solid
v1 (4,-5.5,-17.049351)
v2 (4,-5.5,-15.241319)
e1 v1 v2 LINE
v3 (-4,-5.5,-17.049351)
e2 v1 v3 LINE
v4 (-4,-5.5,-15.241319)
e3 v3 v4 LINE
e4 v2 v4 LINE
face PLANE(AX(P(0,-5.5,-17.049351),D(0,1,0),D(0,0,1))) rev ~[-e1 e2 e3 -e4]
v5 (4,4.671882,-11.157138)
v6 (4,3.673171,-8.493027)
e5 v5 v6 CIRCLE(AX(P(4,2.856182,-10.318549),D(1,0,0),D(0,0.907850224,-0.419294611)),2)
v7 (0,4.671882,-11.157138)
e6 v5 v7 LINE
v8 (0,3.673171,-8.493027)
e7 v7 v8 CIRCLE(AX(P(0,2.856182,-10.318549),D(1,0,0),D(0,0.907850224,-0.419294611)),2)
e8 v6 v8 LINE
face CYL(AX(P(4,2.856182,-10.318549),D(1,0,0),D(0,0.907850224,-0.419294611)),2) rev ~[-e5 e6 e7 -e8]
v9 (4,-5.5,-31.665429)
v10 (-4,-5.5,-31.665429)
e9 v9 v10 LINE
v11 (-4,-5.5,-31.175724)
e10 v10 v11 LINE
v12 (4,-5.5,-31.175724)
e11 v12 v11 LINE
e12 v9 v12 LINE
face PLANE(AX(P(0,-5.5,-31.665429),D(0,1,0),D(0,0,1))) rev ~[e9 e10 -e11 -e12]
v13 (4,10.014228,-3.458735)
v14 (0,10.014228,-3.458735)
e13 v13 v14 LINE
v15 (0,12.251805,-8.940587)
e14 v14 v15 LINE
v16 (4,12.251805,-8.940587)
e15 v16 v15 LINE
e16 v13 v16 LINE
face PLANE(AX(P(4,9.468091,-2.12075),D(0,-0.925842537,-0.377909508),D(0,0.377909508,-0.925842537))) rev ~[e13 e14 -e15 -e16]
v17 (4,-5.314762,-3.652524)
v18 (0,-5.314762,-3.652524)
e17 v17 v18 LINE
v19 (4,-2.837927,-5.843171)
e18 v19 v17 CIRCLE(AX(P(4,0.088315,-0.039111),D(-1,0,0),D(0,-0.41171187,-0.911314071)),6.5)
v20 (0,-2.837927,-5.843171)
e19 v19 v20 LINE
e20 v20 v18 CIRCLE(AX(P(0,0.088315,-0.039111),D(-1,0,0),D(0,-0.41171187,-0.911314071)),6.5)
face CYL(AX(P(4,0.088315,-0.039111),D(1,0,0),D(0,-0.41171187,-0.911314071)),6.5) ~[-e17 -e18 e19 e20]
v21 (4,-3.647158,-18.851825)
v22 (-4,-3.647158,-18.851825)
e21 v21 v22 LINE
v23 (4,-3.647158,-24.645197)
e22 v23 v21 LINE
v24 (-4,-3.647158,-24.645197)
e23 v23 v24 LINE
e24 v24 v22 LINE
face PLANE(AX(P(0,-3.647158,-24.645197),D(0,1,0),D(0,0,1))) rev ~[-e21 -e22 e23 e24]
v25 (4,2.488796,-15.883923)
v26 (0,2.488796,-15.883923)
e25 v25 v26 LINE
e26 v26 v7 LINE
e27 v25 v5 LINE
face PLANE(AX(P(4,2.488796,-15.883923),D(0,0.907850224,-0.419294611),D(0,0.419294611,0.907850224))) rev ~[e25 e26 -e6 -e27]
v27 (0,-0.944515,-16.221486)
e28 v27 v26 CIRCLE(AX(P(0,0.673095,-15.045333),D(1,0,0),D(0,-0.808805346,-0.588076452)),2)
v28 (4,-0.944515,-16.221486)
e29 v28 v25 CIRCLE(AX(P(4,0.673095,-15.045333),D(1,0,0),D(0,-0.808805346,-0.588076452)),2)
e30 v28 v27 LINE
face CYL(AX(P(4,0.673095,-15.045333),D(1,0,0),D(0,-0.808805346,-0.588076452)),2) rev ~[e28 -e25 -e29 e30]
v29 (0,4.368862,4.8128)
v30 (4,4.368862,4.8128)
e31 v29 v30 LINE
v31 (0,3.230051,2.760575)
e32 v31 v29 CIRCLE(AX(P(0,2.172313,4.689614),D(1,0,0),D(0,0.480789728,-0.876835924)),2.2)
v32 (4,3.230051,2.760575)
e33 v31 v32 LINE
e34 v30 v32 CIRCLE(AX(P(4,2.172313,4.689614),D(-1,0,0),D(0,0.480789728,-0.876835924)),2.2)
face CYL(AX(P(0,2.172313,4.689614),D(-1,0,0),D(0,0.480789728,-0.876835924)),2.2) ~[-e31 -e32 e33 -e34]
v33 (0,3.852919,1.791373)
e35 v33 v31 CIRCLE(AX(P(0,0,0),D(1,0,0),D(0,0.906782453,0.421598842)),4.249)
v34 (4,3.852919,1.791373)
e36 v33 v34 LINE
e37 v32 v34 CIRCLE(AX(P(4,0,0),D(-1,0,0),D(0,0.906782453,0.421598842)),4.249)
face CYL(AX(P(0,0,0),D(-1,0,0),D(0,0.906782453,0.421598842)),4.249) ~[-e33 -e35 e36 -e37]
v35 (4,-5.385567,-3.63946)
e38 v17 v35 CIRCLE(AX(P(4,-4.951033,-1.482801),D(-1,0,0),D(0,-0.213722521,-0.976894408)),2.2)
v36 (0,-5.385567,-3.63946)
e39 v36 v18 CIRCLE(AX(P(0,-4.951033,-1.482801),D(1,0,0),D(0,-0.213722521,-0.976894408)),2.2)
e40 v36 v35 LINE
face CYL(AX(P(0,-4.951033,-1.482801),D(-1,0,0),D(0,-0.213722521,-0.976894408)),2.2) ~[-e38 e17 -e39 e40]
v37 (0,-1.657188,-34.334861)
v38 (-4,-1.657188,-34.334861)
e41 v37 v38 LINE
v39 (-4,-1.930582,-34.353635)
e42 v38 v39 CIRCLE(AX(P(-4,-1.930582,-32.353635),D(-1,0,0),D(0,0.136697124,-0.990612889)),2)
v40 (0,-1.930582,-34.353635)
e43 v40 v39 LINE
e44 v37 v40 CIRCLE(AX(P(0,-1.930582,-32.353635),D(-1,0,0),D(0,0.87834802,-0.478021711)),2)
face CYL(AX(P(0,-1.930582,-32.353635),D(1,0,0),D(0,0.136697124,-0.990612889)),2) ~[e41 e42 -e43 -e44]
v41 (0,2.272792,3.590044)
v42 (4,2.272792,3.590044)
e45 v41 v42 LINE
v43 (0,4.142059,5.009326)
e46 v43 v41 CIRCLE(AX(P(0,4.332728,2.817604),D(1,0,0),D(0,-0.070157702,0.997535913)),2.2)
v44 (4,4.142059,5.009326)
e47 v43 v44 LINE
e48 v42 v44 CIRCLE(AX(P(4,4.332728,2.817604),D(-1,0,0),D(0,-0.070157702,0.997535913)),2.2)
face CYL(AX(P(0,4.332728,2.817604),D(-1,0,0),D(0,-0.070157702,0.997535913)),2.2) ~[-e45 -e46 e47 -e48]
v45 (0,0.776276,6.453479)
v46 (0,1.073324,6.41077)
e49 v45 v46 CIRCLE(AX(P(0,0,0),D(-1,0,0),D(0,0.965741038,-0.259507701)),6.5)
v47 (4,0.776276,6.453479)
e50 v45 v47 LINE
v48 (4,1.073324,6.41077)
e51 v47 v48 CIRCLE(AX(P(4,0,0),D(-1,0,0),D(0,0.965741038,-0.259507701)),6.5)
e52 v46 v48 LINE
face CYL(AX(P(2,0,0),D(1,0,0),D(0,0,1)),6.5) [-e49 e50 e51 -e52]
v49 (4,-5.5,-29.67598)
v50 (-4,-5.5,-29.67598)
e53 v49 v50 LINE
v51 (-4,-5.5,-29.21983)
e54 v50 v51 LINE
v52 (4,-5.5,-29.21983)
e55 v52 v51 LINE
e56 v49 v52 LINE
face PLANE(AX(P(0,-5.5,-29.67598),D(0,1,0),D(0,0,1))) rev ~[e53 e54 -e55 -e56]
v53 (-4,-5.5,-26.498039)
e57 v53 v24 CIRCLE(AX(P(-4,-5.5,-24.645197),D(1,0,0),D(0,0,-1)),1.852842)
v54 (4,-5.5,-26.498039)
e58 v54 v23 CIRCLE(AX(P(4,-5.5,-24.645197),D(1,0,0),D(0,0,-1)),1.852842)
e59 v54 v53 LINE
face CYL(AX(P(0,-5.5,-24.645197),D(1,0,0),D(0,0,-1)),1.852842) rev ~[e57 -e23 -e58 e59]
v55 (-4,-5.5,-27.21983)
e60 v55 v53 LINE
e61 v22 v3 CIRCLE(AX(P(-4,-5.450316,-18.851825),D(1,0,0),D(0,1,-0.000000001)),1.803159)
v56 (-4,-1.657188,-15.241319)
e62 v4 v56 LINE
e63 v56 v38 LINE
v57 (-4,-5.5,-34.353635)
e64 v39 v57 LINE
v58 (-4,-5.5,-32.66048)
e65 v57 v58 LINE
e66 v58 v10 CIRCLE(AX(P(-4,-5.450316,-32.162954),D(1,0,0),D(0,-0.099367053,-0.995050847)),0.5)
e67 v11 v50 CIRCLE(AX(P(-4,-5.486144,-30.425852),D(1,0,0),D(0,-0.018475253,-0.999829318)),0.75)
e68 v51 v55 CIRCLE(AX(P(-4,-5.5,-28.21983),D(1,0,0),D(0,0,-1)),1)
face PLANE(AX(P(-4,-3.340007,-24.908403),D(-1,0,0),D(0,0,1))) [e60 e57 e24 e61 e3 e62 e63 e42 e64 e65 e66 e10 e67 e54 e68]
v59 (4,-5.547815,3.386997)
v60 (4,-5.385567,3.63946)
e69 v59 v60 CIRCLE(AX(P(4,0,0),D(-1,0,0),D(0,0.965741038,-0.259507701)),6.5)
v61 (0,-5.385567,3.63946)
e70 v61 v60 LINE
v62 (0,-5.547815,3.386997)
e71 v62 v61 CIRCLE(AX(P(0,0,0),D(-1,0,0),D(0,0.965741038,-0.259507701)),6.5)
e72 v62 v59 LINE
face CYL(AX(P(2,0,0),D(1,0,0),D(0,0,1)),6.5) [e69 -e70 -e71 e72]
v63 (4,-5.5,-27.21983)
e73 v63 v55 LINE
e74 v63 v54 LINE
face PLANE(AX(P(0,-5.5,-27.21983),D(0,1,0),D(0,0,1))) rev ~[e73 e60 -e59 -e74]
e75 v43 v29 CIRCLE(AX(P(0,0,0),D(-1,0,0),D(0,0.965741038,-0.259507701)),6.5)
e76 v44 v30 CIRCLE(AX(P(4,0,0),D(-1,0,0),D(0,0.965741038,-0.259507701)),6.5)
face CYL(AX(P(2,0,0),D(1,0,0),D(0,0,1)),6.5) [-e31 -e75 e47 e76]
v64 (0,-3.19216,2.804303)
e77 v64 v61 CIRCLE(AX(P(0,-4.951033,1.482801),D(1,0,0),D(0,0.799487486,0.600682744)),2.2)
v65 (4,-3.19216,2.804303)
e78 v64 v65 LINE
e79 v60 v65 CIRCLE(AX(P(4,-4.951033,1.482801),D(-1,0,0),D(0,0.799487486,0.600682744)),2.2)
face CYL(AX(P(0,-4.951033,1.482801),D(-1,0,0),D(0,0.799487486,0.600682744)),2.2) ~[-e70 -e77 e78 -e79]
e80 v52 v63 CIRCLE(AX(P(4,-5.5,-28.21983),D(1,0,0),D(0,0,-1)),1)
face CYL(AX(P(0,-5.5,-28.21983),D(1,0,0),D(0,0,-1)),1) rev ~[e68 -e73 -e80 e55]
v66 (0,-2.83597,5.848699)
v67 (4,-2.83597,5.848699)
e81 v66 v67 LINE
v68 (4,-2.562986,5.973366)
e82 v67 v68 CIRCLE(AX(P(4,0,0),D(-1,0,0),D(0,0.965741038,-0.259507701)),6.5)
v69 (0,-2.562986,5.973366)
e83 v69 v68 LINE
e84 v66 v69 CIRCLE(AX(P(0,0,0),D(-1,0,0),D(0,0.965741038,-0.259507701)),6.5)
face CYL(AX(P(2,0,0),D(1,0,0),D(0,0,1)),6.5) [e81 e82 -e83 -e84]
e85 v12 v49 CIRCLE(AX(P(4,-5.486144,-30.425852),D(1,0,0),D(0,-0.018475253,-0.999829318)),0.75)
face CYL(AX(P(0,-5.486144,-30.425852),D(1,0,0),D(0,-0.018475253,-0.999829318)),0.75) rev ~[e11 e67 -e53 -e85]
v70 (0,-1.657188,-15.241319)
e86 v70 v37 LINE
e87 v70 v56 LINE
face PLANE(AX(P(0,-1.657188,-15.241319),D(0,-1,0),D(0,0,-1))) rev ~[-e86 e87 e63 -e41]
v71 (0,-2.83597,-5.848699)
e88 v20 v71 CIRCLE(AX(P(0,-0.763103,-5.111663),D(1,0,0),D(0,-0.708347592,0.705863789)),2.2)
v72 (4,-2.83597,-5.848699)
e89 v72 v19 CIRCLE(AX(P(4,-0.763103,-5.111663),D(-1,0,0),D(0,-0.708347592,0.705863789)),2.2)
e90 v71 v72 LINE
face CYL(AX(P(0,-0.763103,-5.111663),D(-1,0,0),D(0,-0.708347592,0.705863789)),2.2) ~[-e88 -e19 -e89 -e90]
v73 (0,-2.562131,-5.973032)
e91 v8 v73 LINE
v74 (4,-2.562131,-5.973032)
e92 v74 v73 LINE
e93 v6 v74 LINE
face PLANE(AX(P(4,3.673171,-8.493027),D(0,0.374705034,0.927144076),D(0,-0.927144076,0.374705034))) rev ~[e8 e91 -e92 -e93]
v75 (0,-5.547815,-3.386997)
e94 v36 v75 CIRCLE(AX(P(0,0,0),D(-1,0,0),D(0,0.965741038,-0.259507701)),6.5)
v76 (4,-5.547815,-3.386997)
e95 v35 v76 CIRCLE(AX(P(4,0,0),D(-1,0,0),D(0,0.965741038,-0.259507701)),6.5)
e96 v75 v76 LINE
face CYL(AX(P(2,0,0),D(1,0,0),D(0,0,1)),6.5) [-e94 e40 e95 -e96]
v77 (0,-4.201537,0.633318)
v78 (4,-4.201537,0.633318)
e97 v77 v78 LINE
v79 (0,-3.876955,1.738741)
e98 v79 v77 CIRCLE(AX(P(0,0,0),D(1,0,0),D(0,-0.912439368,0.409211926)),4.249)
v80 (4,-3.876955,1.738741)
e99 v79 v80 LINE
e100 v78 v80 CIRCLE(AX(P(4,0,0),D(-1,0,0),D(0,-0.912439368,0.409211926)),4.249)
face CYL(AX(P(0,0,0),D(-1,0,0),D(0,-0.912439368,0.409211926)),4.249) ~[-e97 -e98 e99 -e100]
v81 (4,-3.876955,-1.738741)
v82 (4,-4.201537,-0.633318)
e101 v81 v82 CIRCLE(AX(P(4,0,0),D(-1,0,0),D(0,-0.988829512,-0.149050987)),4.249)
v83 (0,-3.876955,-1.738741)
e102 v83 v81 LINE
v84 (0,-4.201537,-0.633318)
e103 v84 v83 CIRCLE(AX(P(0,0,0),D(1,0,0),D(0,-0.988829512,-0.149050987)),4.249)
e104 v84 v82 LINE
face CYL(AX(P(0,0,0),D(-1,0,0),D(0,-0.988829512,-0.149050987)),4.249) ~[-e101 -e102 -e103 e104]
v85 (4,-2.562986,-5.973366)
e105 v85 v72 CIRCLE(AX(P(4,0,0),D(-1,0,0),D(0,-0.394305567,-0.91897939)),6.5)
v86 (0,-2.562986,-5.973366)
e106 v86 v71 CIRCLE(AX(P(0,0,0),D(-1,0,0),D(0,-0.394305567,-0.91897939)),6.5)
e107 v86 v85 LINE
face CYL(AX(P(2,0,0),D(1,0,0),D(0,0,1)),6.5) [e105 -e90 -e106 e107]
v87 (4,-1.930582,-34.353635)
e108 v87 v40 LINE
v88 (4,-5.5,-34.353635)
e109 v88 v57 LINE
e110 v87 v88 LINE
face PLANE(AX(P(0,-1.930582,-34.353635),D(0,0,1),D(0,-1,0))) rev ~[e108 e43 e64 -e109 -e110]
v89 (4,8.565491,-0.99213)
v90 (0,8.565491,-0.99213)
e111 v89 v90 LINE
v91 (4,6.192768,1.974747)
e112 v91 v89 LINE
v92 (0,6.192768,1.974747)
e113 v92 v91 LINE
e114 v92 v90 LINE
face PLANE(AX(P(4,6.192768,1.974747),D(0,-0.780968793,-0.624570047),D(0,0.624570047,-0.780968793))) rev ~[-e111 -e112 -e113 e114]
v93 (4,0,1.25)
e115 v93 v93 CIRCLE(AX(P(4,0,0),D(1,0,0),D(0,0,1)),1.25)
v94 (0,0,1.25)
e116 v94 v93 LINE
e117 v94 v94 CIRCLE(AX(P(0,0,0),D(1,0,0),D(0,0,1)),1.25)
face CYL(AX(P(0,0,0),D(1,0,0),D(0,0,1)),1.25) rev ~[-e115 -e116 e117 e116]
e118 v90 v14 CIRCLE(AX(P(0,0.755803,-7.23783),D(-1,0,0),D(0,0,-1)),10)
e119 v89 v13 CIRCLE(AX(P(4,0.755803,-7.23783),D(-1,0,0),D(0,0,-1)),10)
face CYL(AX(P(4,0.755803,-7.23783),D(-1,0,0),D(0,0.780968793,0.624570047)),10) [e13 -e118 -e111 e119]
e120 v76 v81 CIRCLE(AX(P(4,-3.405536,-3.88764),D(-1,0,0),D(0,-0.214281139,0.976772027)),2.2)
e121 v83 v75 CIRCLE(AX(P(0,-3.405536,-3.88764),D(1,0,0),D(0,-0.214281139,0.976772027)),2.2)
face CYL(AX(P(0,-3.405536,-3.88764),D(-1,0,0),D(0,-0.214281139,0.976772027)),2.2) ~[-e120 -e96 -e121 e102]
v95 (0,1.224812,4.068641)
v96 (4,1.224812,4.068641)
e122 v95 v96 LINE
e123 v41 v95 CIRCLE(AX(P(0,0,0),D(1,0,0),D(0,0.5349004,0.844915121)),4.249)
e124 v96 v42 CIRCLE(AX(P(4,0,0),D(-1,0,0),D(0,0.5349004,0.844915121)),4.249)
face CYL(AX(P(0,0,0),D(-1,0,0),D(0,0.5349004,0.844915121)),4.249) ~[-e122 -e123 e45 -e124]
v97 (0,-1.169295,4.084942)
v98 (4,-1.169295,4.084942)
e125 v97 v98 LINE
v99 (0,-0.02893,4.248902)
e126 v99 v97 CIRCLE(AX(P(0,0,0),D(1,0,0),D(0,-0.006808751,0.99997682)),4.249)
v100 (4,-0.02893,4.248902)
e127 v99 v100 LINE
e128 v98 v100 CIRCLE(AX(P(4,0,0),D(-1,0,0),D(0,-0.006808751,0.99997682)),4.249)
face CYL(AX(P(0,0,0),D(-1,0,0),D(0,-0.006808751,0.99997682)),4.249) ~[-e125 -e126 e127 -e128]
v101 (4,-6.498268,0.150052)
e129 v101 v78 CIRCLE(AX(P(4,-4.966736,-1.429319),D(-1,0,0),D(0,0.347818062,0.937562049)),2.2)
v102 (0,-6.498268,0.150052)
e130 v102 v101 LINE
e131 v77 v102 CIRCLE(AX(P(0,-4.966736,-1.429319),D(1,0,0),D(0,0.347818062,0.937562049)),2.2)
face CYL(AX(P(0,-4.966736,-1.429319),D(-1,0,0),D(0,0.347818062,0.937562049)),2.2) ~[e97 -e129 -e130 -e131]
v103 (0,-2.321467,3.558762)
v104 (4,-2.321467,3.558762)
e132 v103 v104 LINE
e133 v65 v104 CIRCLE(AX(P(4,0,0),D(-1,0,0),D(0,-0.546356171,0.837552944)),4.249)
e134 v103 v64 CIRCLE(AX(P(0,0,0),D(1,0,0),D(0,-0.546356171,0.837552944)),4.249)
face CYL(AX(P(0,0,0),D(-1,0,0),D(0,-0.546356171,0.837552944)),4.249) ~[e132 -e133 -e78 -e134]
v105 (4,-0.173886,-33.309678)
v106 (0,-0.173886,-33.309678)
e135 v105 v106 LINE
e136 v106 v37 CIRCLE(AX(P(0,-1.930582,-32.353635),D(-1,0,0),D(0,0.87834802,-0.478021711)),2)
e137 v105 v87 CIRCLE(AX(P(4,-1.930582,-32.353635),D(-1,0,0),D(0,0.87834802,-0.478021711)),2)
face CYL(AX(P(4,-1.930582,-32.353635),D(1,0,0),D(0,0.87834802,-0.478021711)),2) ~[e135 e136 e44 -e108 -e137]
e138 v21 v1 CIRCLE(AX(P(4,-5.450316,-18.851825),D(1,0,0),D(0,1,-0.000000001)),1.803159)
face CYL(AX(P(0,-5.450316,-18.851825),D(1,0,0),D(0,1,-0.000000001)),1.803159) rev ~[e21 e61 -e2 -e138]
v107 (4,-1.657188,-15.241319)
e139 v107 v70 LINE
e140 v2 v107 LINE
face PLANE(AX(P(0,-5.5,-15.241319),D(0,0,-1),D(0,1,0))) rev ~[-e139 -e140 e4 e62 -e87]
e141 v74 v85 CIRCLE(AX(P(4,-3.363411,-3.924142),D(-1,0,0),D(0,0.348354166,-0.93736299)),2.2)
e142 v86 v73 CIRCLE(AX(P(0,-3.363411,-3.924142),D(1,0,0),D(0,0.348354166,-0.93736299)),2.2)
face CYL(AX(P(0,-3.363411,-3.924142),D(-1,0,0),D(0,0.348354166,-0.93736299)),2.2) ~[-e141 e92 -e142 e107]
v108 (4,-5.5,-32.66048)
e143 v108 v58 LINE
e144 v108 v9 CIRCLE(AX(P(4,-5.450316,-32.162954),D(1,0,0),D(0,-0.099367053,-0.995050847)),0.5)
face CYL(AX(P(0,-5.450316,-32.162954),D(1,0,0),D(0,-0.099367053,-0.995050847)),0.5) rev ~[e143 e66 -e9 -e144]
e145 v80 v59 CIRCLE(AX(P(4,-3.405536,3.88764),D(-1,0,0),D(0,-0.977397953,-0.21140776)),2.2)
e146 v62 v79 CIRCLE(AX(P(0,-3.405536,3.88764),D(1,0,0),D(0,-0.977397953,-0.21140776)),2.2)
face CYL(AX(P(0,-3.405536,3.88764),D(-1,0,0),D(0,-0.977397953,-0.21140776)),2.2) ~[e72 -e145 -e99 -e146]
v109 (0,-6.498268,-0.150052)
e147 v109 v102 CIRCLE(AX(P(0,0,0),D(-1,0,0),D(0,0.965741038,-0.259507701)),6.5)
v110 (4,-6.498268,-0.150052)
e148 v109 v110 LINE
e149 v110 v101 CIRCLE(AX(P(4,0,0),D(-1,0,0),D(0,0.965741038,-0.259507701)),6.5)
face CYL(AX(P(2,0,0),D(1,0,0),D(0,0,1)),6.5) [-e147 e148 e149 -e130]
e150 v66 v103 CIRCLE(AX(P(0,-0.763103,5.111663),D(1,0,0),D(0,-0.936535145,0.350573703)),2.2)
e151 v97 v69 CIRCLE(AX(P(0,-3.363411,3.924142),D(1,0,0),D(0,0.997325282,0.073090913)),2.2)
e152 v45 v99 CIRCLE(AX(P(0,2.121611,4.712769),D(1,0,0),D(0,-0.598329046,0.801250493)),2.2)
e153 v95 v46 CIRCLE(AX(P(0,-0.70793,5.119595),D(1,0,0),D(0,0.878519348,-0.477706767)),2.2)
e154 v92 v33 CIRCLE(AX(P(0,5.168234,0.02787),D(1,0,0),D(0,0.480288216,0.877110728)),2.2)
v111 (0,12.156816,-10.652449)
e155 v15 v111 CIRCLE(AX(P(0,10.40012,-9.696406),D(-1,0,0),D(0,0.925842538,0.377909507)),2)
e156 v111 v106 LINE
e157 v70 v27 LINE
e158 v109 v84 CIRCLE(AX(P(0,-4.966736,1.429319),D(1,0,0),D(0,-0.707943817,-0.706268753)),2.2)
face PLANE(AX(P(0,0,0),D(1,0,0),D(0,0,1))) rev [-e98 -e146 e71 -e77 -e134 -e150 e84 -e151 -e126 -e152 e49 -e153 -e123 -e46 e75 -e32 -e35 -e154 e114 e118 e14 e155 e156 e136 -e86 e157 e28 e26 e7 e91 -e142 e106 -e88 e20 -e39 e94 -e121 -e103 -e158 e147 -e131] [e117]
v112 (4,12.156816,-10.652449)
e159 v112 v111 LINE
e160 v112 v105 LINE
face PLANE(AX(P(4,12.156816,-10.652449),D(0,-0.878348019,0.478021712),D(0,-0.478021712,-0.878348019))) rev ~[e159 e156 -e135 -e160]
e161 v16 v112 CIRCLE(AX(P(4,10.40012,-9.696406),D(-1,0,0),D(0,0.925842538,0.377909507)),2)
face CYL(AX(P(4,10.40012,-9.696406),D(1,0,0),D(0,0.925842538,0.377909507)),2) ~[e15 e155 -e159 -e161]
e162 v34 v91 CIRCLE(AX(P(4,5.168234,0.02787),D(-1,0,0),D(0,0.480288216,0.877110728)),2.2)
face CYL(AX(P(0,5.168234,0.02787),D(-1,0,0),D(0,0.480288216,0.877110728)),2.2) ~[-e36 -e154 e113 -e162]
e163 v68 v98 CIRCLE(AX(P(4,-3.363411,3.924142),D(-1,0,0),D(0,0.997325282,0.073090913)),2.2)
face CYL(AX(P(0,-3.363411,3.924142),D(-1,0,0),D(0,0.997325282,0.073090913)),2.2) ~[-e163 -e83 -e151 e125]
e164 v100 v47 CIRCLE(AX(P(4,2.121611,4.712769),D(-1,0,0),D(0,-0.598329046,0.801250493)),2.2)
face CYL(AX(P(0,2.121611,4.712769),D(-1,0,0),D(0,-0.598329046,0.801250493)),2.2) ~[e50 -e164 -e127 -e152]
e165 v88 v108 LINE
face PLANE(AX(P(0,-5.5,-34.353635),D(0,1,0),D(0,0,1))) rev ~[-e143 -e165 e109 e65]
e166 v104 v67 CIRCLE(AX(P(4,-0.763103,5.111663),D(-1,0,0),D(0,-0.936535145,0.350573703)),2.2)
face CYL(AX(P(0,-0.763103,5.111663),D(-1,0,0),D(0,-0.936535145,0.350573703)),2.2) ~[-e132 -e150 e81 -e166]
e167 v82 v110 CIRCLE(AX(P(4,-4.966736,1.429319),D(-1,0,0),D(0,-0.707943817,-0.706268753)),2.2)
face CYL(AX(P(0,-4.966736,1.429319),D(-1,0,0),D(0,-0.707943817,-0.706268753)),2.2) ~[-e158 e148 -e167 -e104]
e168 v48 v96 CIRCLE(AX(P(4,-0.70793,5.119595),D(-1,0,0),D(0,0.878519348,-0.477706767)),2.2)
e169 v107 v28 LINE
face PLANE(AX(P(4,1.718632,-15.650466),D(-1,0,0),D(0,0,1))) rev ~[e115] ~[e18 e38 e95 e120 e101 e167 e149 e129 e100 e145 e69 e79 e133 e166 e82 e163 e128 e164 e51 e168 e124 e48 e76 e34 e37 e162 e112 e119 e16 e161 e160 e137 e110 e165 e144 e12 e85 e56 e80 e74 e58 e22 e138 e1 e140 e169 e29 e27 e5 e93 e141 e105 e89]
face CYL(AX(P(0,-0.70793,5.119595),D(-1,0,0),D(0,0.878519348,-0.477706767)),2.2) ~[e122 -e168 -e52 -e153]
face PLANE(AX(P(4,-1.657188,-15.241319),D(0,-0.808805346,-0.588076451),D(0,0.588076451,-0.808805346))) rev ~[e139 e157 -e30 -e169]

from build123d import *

# Parameters (mm, degrees)
BASPROSKE_W                 = 4
BASPROSKE_H                 = 6.5
TOOTHCUT_DEPTH              = 11.024968828
TEETHCUTS_COUNT             = 11
TEETHCUTS_ANGLE             = 327.272727273
BORSKE_R                    = 1.25
BORE_DEPTH                  = 62.5000635
Y_KSEKLIK_EKSTR_ZYON1_DEPTH = 4
Y_KSEKLIK_EKSTR_ZYON2_DEPTH = 4
RADYUS1_R                   = 10


with BuildPart() as part:
    # BasProSke → Base-Revolve (revolve)
    with BuildSketch(Plane(origin=(0, 0, 0), x_dir=(1, 0, 0), z_dir=(0, 1, 0)), mode=Mode.PRIVATE) as base_revolve_sk:
        with Locations((2, 3.25)):
            Rectangle(BASPROSKE_W, BASPROSKE_H)
    revolve(base_revolve_sk.sketch.rotate(Axis((-10, 0, 0), (1, 0, 0)), 180), axis=Axis((-10, 0, 0), (1, 0, 0)))

    # TooCutSke → ToothCut (cut, through all)
    with BuildSketch(Plane(origin=(0, 0, 0), x_dir=(0, 0, -1), z_dir=(1, 0, 0))):
        with BuildLine():
            ThreePointArc((0.576045815, 4.209771041), (0, 4.249), (-0.576045815, 4.209771041))
            ThreePointArc((-0.576045815, 4.209771041), (-0.841371334, 5.420048739), (-1.718652745, 6.295004202))
            ThreePointArc((-1.718652745, 6.295004202), (0, 6.5254), (1.718652745, 6.295004202))
            ThreePointArc((1.718652745, 6.295004202), (0.841371334, 5.420048739), (0.576045815, 4.209771041))
        make_face()
    toothcut = extrude(amount=TOOTHCUT_DEPTH, mode=Mode.SUBTRACT)

    # TeethCuts: ToothCut ×11 about axis
    teethcuts_axis = Axis((-10, 0, 0), (1, 0, 0))
    for i in range(1, TEETHCUTS_COUNT):
        add(toothcut.rotate(teethcuts_axis, i * TEETHCUTS_ANGLE / (TEETHCUTS_COUNT - 1)), mode=Mode.SUBTRACT)

    # BorSke → Bore (cut, symmetric)
    with BuildSketch(Plane(origin=(0, 0, 0), x_dir=(0, 0, -1), z_dir=(1, 0, 0))):
        with Locations(Location((0, 0, 0), (0, 0, 180))):
            Circle(BORSKE_R)
    extrude(amount=BORE_DEPTH, both=True, mode=Mode.SUBTRACT)

    # Çizim1 → Yükseklik-Ekstrüzyon1 (add)
    with BuildSketch(Plane(origin=(4, 0, 0), x_dir=(0, 0, -1), z_dir=(1, 0, 0))):
        with BuildLine():
            Line((2.760779628, -3.22987567), (1.236039076, 1.290267465))
            Line((1.236039076, 1.290267465), (-1.738987524, 3.876844515))
            ThreePointArc((-1.738987524, 3.876844515), (-2.188277705, 5.001068805), (-1.97474715, 6.192767854))
            Line((-1.97474715, 6.192767854), (2.120750073, 9.468090654))
            Line((2.120750073, 9.468090654), (8.9405865, 12.251804864))
            ThreePointArc((8.9405865, 12.251804864), (9.807212476, 12.397047884), (10.652448939, 12.156815828))
            Line((10.652448939, 12.156815828), (33.309678392, -0.173886099))
            ThreePointArc((33.309678392, -0.173886099), (34.072949781, -0.908840205), (34.353634969, -1.930582137))
            Line((34.353634969, -1.930582137), (34.353634969, -5.5))
            Line((34.353634969, -5.5), (32.660479675, -5.5))
            ThreePointArc((32.660479675, -5.5), (32.162954251, -4.950316473), (31.665428827, -5.5))
            Line((31.665428827, -5.5), (31.175724059, -5.5))
            ThreePointArc((31.175724059, -5.5), (30.425852071, -4.73614356), (29.675980082, -5.5))
            Line((29.675980082, -5.5), (29.219830425, -5.5))
            ThreePointArc((29.219830425, -5.5), (28.219830425, -4.5), (27.219830425, -5.5))
            Line((27.219830425, -5.5), (26.498039052, -5.5))
            ThreePointArc((26.498039052, -5.5), (25.955354116, -4.189842668), (24.645196784, -3.647157732))
            Line((24.645196784, -3.647157732), (18.851825021, -3.647157732))
            ThreePointArc((18.851825021, -3.647157732), (17.559352829, -4.192979175), (17.049350889, -5.5))
            Line((17.049350889, -5.5), (15.2413188, -5.5))
            Line((15.2413188, -5.5), (15.2413188, -1.657187873))
            Line((15.2413188, -1.657187873), (16.22148633, -0.944515231))
            ThreePointArc((16.22148633, -0.944515231), (17.0357361, 0.868792159), (15.883922648, 2.488795908))
            Line((15.883922648, 2.488795908), (11.157138105, 4.671882096))
            ThreePointArc((11.157138105, 4.671882096), (9.616505575, 4.728916331), (8.493027441, 3.673170916))
            Line((8.493027441, 3.673170916), (5.962652768, -2.587812197))
            ThreePointArc((5.962652768, -2.587812197), (4.998691965, -4.113179975), (3.652524478, -5.314762425))
            ThreePointArc((3.652524478, -5.314762425), (2.917345271, -4.39606094), (2.760779628, -3.22987567))
        make_face()
    extrude(amount=-Y_KSEKLIK_EKSTR_ZYON1_DEPTH)

    # Çizim2 → Yükseklik-Ekstrüzyon2 (add)
    with BuildSketch(Plane.ZY):
        with BuildLine():
            Line((-34.353634969, -1.930582137), (-34.353634969, -5.5))
            Line((-34.353634969, -5.5), (-32.660479675, -5.5))
            ThreePointArc((-32.660479675, -5.5), (-32.162954251, -4.950316473), (-31.665428827, -5.5))
            Line((-31.665428827, -5.5), (-31.175724059, -5.5))
            ThreePointArc((-31.175724059, -5.5), (-30.425852071, -4.73614356), (-29.675980082, -5.5))
            Line((-29.675980082, -5.5), (-29.219830425, -5.5))
            ThreePointArc((-29.219830425, -5.5), (-28.219830425, -4.5), (-27.219830425, -5.5))
            Line((-27.219830425, -5.5), (-26.498039052, -5.5))
            ThreePointArc((-26.498039052, -5.5), (-25.955354116, -4.189842668), (-24.645196784, -3.647157732))
            Line((-24.645196784, -3.647157732), (-18.851825021, -3.647157732))
            ThreePointArc((-18.851825021, -3.647157732), (-17.559352829, -4.192979175), (-17.049350889, -5.5))
            Line((-17.049350889, -5.5), (-15.2413188, -5.5))
            Line((-15.2413188, -5.5), (-15.2413188, -1.657187873))
            Line((-15.2413188, -1.657187873), (-34.334860745, -1.657187873))
            ThreePointArc((-34.334860745, -1.657187873), (-34.348935892, -1.793563074), (-34.353634969, -1.930582137))
        make_face()
    extrude(amount=Y_KSEKLIK_EKSTR_ZYON2_DEPTH)

    # Radyus1
    radyus1_edges = [part.edges().sort_by_distance(p)[0] for p in [
        (2, 9.468090654, -2.120750073),
    ]]
    fillet(radyus1_edges, radius=RADYUS1_R)


solid = part.part
